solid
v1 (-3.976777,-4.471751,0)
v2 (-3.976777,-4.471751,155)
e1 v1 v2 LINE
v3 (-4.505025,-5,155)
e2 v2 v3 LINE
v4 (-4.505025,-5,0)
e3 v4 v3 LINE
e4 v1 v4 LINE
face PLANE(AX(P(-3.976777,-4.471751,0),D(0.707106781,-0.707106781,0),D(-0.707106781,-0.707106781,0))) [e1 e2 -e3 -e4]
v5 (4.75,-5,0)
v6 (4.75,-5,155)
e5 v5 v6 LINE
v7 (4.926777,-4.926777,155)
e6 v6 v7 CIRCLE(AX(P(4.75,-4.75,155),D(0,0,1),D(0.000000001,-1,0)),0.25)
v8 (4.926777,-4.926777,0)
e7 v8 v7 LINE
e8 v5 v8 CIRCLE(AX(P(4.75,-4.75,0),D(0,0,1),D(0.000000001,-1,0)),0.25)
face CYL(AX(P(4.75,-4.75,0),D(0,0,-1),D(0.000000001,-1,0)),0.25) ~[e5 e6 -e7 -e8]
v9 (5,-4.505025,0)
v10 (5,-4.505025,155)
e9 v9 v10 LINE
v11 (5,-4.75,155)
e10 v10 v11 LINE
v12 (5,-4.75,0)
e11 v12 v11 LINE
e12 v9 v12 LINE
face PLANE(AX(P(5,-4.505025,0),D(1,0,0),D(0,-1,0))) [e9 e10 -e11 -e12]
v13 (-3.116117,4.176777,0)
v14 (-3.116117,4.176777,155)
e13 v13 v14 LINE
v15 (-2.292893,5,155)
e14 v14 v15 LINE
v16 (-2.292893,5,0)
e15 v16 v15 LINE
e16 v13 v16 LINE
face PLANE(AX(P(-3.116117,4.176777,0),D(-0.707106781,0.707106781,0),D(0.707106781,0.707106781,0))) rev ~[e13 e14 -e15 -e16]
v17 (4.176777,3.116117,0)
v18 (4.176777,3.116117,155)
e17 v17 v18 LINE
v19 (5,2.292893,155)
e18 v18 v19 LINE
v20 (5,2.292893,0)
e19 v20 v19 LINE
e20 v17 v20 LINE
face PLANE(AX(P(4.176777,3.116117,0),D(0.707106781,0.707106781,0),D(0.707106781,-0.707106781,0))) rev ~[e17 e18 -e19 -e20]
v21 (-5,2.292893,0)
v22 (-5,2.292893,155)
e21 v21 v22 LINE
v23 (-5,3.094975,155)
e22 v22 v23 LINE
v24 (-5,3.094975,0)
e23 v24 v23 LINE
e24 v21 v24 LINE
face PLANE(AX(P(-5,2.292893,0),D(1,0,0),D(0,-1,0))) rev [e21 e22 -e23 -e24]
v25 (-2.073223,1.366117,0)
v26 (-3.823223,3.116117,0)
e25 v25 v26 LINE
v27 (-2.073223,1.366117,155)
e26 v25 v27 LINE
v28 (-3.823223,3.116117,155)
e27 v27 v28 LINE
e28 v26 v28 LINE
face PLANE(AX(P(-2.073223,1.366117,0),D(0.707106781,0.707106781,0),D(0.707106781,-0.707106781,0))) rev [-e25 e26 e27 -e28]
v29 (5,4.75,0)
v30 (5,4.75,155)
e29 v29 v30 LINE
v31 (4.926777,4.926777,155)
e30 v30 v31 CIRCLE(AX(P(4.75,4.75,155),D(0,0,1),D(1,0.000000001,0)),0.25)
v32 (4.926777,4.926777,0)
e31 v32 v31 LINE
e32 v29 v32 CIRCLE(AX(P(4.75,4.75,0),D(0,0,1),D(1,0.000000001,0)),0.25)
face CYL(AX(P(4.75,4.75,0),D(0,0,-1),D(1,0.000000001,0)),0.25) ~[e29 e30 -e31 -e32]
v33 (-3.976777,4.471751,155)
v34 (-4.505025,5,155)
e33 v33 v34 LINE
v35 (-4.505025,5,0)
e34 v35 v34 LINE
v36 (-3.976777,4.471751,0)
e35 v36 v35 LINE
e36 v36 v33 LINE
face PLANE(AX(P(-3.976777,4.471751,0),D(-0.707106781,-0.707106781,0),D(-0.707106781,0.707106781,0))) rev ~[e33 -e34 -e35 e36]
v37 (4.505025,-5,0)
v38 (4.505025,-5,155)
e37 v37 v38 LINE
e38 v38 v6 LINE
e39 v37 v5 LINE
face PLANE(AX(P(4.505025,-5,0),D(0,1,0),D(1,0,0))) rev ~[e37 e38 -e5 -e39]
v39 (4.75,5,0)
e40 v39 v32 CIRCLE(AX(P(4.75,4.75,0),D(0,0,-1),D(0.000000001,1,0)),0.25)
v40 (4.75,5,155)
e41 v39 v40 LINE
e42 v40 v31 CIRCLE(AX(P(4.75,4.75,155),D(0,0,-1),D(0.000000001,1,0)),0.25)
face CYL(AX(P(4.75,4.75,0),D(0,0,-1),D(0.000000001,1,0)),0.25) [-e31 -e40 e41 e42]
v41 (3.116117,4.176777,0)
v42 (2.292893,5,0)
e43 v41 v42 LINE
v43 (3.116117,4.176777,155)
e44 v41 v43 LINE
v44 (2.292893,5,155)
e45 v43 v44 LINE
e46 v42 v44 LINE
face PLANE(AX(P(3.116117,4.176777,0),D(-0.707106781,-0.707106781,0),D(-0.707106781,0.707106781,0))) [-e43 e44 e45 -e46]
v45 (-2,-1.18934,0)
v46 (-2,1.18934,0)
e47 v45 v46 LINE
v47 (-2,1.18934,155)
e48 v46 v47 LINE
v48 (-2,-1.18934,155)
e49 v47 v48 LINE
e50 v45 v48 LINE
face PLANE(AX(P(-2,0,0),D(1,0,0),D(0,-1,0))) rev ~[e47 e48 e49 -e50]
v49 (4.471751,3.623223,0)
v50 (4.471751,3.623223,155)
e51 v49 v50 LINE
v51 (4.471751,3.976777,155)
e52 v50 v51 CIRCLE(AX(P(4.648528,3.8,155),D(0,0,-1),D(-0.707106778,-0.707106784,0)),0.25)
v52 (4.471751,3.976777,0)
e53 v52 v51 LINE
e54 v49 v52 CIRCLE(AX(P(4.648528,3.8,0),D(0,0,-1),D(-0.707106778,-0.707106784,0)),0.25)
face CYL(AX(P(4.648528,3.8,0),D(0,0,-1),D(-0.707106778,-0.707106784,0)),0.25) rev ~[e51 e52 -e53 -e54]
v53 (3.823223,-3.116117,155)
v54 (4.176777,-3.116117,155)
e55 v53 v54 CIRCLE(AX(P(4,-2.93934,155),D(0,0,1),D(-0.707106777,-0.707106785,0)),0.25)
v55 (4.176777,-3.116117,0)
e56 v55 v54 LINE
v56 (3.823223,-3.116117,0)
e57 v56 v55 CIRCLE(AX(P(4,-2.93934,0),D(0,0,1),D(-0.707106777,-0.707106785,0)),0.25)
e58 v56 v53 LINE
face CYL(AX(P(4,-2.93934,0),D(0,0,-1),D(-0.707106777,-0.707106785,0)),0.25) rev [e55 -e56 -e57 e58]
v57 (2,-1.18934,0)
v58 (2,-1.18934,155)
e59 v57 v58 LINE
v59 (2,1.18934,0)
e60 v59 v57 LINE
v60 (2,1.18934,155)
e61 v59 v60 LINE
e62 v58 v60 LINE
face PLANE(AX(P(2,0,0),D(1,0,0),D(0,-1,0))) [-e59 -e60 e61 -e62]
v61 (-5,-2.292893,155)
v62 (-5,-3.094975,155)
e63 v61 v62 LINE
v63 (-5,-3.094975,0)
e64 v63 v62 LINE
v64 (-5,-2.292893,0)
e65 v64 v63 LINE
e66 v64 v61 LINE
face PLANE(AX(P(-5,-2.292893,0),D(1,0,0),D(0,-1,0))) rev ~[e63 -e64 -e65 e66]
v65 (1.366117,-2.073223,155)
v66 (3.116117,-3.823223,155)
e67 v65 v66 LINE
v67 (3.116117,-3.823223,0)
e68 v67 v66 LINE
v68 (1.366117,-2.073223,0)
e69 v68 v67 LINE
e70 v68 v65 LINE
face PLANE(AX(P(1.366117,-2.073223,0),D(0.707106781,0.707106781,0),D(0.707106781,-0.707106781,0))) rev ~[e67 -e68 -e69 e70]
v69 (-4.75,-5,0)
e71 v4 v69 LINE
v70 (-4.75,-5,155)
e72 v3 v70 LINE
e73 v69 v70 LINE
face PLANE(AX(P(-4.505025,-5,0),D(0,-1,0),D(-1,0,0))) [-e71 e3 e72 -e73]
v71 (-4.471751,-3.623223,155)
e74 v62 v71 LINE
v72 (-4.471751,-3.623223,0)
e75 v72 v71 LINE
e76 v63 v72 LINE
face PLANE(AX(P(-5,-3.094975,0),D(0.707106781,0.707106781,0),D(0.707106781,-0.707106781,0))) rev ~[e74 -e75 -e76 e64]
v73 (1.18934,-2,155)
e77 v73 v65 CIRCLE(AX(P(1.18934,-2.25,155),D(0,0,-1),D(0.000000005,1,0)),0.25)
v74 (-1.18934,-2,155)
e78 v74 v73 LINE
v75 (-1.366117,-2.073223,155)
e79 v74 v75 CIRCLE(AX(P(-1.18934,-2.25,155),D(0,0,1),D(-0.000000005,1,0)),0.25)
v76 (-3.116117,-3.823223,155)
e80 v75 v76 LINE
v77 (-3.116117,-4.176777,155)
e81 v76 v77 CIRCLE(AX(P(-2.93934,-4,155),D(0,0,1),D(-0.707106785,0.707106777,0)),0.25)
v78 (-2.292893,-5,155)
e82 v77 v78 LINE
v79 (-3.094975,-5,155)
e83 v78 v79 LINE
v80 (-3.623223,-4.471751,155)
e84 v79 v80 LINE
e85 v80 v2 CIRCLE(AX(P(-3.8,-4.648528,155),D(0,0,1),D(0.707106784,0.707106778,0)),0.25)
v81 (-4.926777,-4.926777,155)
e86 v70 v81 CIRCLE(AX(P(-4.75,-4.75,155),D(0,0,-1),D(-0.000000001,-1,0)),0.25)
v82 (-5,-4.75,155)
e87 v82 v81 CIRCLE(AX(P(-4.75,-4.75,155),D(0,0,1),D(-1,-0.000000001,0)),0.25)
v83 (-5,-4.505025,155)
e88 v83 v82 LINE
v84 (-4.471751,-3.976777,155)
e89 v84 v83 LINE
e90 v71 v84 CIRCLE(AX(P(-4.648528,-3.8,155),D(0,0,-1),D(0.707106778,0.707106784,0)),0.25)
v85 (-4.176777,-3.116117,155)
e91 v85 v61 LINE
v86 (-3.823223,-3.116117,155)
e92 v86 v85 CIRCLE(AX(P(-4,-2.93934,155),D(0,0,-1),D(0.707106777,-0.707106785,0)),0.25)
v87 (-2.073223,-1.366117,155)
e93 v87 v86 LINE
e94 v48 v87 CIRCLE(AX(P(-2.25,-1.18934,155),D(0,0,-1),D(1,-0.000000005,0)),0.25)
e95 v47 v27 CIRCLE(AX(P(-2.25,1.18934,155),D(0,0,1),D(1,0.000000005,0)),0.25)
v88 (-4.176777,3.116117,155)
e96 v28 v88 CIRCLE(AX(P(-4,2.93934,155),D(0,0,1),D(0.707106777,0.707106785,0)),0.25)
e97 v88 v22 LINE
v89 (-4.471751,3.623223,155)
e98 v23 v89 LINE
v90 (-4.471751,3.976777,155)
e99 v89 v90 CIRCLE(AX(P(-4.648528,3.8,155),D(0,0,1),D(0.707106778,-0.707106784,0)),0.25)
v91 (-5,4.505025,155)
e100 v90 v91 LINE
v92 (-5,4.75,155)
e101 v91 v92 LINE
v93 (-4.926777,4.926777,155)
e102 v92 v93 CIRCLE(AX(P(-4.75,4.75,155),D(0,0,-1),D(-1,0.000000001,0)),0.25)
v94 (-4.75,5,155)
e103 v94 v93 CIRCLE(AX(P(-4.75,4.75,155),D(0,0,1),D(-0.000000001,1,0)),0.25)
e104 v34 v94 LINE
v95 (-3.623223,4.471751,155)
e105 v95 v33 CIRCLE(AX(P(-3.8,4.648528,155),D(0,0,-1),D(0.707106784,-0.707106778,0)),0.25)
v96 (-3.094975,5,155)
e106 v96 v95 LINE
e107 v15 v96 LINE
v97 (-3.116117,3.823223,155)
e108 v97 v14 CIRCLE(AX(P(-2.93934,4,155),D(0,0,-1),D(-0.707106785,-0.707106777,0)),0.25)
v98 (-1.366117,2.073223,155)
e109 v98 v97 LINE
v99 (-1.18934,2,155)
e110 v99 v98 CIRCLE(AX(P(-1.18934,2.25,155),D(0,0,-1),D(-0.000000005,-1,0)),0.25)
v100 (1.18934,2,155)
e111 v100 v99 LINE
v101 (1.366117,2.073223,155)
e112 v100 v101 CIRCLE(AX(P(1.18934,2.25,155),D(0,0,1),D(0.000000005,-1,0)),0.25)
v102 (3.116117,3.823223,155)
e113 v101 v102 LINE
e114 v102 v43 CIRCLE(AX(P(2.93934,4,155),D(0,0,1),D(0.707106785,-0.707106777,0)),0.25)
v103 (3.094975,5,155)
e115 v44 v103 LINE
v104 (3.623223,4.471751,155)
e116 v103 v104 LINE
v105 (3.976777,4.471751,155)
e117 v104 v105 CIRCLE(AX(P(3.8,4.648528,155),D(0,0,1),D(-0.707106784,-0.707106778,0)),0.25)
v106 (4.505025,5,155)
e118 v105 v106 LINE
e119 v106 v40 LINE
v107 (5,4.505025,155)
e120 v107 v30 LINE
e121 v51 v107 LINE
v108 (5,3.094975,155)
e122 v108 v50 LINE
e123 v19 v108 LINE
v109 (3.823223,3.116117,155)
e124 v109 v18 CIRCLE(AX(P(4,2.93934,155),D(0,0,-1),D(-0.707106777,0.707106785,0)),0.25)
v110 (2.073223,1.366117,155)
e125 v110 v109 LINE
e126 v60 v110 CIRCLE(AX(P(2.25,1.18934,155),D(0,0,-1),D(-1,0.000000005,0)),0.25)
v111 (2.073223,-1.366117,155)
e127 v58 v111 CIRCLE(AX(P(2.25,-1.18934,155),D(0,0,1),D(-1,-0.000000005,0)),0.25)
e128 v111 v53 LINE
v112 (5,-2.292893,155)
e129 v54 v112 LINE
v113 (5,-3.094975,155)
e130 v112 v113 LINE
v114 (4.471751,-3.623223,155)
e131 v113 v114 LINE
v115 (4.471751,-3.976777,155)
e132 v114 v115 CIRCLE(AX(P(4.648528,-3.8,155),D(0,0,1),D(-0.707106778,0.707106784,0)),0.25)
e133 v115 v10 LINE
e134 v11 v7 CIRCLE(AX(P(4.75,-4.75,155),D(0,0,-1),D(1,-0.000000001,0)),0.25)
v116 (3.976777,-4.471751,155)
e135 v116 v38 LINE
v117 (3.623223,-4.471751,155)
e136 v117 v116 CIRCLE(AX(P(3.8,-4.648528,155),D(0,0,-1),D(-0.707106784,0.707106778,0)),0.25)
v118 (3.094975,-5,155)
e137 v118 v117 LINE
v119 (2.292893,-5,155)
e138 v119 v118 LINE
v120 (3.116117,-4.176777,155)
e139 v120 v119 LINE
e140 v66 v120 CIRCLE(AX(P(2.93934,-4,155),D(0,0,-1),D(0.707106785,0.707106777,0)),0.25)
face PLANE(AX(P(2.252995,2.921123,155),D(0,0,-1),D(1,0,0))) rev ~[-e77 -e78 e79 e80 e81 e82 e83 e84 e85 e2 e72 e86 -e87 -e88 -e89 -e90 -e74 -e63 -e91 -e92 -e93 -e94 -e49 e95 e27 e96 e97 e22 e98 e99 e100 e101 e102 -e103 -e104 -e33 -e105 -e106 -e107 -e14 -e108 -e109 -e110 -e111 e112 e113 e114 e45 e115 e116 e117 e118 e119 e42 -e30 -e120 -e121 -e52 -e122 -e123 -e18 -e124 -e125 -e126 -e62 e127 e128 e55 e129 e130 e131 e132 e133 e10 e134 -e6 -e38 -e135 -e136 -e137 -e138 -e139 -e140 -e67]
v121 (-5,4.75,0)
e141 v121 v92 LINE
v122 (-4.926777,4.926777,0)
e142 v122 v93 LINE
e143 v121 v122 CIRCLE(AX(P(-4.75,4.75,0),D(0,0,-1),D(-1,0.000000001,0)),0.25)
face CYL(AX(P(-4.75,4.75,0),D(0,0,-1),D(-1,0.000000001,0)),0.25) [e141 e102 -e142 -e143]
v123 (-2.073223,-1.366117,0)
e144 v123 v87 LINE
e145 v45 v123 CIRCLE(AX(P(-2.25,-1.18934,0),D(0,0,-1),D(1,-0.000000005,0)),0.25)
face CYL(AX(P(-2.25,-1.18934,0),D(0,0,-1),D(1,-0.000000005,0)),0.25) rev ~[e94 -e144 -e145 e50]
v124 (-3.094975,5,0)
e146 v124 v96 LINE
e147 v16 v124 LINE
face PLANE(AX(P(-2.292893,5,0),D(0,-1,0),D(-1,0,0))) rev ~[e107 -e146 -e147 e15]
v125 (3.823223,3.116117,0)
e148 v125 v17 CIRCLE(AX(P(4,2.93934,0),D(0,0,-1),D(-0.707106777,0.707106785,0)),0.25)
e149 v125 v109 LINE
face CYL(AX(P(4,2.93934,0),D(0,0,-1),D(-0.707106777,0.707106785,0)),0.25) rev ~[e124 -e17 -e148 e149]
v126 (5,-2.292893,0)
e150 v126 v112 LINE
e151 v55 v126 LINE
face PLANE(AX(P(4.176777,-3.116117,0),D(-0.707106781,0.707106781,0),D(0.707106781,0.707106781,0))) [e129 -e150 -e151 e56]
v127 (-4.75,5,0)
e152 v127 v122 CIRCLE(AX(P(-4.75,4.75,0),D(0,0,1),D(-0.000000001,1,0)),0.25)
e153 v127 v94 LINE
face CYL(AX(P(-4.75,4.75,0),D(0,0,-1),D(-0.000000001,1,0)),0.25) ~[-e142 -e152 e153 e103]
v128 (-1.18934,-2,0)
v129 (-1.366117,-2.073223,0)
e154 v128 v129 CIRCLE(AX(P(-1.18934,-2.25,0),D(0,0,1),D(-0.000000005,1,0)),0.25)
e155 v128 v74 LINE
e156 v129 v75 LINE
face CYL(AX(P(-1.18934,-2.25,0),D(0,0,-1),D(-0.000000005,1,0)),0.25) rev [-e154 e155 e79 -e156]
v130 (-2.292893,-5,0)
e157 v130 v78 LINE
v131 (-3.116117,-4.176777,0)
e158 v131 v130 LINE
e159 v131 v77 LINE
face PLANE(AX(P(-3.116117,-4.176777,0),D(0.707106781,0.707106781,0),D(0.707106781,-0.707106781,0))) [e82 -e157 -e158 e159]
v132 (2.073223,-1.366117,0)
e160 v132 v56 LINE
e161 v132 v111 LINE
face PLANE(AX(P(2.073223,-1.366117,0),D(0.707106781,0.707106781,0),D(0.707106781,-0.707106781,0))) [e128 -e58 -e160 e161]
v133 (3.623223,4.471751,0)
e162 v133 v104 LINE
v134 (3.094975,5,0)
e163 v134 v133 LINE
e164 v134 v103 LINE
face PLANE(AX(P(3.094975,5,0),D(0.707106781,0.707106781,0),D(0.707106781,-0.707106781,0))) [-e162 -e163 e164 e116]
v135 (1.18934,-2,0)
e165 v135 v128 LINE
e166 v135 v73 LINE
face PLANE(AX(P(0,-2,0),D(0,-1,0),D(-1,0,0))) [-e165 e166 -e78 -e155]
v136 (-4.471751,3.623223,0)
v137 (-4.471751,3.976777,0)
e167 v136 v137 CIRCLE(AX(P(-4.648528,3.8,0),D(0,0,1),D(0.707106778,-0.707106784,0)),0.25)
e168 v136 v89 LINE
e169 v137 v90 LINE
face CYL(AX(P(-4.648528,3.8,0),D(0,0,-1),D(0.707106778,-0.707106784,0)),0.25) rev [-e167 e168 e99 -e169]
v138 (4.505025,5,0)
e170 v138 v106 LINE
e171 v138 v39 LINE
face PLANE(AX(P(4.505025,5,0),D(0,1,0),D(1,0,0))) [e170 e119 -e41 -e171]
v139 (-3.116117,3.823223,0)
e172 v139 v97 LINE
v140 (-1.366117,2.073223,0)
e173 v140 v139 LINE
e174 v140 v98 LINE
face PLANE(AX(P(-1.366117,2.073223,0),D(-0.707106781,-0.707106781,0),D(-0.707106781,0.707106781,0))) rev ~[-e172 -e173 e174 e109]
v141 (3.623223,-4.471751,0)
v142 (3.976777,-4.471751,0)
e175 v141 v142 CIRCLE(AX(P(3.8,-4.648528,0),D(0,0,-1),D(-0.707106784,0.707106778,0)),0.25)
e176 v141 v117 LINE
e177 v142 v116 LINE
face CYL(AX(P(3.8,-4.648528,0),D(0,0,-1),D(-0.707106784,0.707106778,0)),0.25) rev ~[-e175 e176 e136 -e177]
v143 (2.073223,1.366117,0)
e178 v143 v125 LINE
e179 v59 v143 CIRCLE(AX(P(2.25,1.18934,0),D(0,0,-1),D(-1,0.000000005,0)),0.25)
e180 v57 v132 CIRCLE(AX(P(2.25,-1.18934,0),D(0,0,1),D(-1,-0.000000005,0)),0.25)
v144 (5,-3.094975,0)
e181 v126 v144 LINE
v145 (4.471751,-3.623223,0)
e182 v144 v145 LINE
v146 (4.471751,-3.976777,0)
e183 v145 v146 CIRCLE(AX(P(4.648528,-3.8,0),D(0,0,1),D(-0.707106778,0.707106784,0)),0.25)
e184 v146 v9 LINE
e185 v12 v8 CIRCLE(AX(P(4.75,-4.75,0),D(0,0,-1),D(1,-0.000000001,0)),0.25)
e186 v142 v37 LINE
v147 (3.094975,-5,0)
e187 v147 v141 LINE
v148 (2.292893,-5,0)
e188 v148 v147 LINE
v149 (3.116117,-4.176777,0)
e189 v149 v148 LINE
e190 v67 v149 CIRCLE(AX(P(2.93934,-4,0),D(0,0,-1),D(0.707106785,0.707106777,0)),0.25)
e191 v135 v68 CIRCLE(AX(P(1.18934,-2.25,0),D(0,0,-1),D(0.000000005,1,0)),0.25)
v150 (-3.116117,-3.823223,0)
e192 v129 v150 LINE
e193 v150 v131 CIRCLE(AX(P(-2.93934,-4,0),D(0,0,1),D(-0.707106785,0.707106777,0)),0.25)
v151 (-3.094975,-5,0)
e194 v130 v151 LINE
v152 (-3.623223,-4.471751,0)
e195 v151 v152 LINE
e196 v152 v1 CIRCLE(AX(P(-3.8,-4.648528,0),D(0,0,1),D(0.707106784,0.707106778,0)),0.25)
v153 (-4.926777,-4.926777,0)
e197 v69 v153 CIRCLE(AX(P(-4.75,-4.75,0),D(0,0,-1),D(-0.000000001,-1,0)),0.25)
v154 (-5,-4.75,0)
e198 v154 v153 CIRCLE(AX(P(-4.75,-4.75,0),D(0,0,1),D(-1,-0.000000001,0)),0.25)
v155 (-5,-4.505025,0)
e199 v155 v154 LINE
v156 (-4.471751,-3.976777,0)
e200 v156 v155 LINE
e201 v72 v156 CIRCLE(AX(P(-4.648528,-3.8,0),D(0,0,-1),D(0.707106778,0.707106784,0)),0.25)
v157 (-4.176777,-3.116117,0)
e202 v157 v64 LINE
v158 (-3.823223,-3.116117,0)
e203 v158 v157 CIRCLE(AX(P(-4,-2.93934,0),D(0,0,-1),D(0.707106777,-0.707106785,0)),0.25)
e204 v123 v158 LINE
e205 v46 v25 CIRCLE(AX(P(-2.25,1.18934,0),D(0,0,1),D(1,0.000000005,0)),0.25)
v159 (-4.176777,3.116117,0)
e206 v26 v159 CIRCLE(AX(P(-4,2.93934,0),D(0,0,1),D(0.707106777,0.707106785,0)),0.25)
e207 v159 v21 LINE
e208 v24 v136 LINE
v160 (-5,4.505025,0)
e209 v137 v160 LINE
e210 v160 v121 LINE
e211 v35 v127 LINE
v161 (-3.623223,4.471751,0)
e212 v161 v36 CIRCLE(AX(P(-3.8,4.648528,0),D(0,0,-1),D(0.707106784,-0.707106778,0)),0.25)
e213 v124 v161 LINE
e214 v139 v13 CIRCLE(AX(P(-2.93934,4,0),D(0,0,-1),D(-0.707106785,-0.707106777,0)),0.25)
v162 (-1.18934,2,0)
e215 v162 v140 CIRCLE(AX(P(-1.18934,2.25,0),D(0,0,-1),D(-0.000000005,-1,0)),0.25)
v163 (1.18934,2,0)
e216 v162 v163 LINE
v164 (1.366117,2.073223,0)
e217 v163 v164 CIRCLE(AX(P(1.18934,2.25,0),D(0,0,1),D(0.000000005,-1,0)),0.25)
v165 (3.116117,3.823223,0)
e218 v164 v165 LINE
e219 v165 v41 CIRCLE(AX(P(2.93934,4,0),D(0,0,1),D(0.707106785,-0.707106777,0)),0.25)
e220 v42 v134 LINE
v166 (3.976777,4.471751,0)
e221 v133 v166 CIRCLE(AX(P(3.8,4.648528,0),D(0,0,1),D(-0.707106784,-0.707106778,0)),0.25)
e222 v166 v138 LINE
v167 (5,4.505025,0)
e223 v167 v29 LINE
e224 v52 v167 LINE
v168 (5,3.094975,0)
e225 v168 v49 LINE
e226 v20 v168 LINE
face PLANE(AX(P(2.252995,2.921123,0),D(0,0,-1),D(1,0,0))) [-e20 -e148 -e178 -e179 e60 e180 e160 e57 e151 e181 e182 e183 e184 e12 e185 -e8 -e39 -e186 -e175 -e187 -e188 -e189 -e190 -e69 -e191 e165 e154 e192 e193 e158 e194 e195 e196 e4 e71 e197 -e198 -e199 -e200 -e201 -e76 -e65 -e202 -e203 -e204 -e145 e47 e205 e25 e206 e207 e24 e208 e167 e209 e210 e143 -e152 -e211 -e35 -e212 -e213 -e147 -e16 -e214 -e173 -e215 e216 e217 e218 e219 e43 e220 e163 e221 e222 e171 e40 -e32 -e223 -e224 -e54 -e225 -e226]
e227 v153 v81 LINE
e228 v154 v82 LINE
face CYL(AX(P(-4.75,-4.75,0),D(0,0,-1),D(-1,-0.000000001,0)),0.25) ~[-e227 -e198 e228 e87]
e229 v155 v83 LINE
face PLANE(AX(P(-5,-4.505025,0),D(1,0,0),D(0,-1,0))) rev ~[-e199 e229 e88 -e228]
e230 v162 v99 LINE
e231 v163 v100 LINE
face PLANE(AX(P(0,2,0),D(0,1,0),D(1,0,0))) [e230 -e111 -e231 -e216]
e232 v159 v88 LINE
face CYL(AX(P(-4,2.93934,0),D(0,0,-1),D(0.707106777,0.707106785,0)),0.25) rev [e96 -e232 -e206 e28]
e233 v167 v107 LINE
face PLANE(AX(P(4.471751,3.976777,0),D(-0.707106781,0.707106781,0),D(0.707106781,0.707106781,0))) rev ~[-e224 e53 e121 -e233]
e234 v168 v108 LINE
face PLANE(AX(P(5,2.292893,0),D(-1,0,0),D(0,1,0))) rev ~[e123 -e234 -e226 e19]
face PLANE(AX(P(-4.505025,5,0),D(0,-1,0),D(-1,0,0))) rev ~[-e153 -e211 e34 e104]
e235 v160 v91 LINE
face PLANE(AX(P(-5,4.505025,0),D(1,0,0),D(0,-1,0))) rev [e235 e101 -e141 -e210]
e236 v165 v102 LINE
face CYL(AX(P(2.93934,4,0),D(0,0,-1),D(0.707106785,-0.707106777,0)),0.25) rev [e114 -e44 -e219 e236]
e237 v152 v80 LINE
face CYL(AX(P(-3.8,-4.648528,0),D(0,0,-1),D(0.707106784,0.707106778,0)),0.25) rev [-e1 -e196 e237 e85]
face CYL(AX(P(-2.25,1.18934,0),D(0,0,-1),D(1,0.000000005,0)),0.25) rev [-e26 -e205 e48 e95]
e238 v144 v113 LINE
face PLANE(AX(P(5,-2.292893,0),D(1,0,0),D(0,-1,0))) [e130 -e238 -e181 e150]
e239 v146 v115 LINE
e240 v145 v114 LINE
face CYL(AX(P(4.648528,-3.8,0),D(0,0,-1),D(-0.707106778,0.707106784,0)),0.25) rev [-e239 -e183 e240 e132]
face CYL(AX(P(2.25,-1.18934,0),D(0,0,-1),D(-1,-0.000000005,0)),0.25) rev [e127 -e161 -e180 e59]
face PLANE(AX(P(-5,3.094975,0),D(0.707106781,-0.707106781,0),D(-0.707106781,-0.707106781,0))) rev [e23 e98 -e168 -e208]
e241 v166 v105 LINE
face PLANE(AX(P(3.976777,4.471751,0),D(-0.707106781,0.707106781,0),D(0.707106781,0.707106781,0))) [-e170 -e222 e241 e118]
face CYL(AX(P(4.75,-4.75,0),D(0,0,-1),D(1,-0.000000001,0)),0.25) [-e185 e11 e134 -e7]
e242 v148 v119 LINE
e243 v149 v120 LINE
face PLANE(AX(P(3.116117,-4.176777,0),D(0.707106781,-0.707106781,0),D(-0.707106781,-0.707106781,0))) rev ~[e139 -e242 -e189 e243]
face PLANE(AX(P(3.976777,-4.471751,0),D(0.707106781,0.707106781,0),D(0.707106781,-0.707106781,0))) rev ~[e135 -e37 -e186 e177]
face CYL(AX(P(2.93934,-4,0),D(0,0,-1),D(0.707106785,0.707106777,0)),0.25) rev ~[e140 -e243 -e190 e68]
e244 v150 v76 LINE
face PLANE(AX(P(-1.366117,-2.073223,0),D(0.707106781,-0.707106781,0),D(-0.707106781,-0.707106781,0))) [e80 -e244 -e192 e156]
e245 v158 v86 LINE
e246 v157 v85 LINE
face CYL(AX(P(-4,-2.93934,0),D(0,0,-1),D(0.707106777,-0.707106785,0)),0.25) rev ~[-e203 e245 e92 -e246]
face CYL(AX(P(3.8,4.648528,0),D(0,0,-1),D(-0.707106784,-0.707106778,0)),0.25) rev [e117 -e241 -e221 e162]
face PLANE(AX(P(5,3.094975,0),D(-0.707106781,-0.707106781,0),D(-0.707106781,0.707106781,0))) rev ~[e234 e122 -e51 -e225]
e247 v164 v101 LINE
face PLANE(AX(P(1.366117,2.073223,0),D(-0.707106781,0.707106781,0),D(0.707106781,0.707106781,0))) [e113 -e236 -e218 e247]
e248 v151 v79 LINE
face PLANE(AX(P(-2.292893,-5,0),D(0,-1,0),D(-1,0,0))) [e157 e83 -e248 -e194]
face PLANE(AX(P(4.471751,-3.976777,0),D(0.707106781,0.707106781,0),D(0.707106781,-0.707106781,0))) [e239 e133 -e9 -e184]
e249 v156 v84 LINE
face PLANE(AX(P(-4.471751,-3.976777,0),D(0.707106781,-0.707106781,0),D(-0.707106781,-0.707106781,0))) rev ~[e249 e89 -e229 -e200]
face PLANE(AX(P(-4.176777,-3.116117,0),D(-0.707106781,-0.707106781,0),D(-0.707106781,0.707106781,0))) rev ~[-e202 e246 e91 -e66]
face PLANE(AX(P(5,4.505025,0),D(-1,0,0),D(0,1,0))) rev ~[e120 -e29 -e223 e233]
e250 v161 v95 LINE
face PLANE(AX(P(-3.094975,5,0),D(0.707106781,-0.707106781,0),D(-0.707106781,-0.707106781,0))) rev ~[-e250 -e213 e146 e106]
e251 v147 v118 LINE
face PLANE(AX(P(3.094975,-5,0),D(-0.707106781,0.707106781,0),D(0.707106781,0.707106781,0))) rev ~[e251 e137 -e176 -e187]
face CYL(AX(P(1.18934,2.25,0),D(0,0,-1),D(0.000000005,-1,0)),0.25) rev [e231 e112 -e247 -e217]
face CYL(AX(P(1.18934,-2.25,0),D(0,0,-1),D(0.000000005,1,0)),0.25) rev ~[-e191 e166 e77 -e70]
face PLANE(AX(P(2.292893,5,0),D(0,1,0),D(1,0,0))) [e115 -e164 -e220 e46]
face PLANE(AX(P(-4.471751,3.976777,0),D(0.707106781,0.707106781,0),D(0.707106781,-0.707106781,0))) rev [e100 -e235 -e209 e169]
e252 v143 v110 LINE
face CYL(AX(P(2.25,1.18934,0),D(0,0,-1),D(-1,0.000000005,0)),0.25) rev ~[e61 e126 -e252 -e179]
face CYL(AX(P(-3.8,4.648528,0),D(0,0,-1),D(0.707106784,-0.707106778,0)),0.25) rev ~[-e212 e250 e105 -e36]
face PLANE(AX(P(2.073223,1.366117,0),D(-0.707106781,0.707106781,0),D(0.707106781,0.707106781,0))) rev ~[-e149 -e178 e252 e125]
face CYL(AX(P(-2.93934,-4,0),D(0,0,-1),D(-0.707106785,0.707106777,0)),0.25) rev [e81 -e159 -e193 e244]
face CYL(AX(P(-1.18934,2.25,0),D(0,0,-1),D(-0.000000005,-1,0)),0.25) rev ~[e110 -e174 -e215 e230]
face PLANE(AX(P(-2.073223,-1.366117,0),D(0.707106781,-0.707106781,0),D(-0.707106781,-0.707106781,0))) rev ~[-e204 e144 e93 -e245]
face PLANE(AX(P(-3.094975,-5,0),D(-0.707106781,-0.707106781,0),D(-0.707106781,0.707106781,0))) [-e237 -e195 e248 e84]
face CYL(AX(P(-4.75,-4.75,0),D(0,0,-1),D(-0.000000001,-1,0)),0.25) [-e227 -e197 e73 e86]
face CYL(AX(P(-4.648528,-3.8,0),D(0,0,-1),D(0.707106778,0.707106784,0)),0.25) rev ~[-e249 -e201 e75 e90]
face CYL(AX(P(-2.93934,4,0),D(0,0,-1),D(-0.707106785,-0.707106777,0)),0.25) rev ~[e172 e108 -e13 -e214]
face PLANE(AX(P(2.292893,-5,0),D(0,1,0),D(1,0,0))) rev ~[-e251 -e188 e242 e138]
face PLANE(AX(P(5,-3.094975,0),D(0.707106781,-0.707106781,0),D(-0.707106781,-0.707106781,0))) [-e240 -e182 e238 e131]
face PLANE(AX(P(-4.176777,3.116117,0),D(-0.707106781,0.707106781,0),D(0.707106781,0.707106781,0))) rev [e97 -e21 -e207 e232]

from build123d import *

# Parameters (mm, degrees)
BOSS_EXTRUDE1_DEPTH      = 155
CIRPATTERN4_COUNT        = 4
CIRPATTERN4_COPY_1_DEPTH = 155
CIRPATTERN4_COPY_2_DEPTH = 155
CIRPATTERN4_COPY_3_DEPTH = 155


with BuildPart() as part:
    # Sketch2 → Boss-Extrude1 (new body)
    with BuildSketch(Plane.XY):
        with BuildLine():
            Line((-1.366116524, 2.073223305), (-3.116116524, 3.823223305))
            ThreePointArc((-3.116116524, 3.823223305), (-3.189339828, 4), (-3.116116524, 4.176776695))
            Line((-3.116116524, 4.176776695), (-2.292893219, 5))
            Line((-2.292893219, 5), (-3.094974747, 5))
            Line((-3.094974747, 5), (-3.623223305, 4.471751442))
            ThreePointArc((-3.623223305, 4.471751442), (-3.8, 4.398528137), (-3.976776695, 4.471751442))
            Line((-3.976776695, 4.471751442), (-4.505025253, 5))
            Line((-4.505025253, 5), (-4.75, 5))
            ThreePointArc((-4.75, 5), (-4.845670858, 4.980969883), (-4.926776695, 4.926776695))
            Line((-4.926776695, 4.926776695), (0, 0))
            Line((0, 0), (0, 2))
            Line((0, 2), (-1.189339828, 2))
            ThreePointArc((-1.189339828, 2), (-1.285010686, 2.019030117), (-1.366116524, 2.073223305))
        make_face()
    boss_extrude1 = extrude(amount=BOSS_EXTRUDE1_DEPTH)

    # Mirror1: Boss-Extrude1 across plane
    add(boss_extrude1.mirror(Plane(origin=(0, 0, 155), x_dir=(0, 0, 1), z_dir=(0.707106781, 0.707106781, 0))))

    # CirPattern4: Boss-Extrude1 ×4 about axis
    cirpattern4_axis = Axis((0, 0, 0), (0, 0, 1))
    for i in range(1, CIRPATTERN4_COUNT):
        add(boss_extrude1.rotate(cirpattern4_axis, i * 360 / CIRPATTERN4_COUNT))

    # CirPattern4 copy 1 sketch → CirPattern4 copy 1 (add)
    with BuildSketch(Plane.XY):
        with BuildLine():
            Line((-1.366116524, -2.073223305), (-3.116116524, -3.823223305))
            ThreePointArc((-3.116116524, -3.823223305), (-3.189339828, -4), (-3.116116524, -4.176776695))
            Line((-3.116116524, -4.176776695), (-2.292893219, -5))
            Line((-2.292893219, -5), (-3.094974747, -5))
            Line((-3.094974747, -5), (-3.623223305, -4.471751442))
            ThreePointArc((-3.623223305, -4.471751442), (-3.8, -4.398528137), (-3.976776695, -4.471751442))
            Line((-3.976776695, -4.471751442), (-4.505025253, -5))
            Line((-4.505025253, -5), (-4.75, -5))
            ThreePointArc((-4.75, -5), (-4.845670858, -4.980969883), (-4.926776695, -4.926776695))
            Line((-4.926776695, -4.926776695), (0, 0))
            Line((0, 0), (0, -2))
            Line((0, -2), (-1.189339828, -2))
            ThreePointArc((-1.189339828, -2), (-1.285010686, -2.019030117), (-1.366116524, -2.073223305))
        make_face()
    extrude(amount=CIRPATTERN4_COPY_1_DEPTH)

    # CirPattern4 copy 2 sketch → CirPattern4 copy 2 (add)
    with BuildSketch(Plane(origin=(0, 0, 0), x_dir=(0, 1, 0), z_dir=(0, 0, 1))):
        with BuildLine():
            Line((-1.366116524, -2.073223305), (-3.116116524, -3.823223305))
            ThreePointArc((-3.116116524, -3.823223305), (-3.189339828, -4), (-3.116116524, -4.176776695))
            Line((-3.116116524, -4.176776695), (-2.292893219, -5))
            Line((-2.292893219, -5), (-3.094974747, -5))
            Line((-3.094974747, -5), (-3.623223305, -4.471751442))
            ThreePointArc((-3.623223305, -4.471751442), (-3.8, -4.398528137), (-3.976776695, -4.471751442))
            Line((-3.976776695, -4.471751442), (-4.505025253, -5))
            Line((-4.505025253, -5), (-4.75, -5))
            ThreePointArc((-4.75, -5), (-4.845670858, -4.980969883), (-4.926776695, -4.926776695))
            Line((-4.926776695, -4.926776695), (0, 0))
            Line((0, 0), (0, -2))
            Line((0, -2), (-1.189339828, -2))
            ThreePointArc((-1.189339828, -2), (-1.285010686, -2.019030117), (-1.366116524, -2.073223305))
        make_face()
    extrude(amount=CIRPATTERN4_COPY_2_DEPTH)

    # CirPattern4 copy 3 sketch → CirPattern4 copy 3 (add)
    with BuildSketch(Plane(origin=(0, 0, 0), x_dir=(-1, 0, 0), z_dir=(0, 0, 1))):
        with BuildLine():
            Line((-1.366116524, -2.073223305), (-3.116116524, -3.823223305))
            ThreePointArc((-3.116116524, -3.823223305), (-3.189339828, -4), (-3.116116524, -4.176776695))
            Line((-3.116116524, -4.176776695), (-2.292893219, -5))
            Line((-2.292893219, -5), (-3.094974747, -5))
            Line((-3.094974747, -5), (-3.623223305, -4.471751442))
            ThreePointArc((-3.623223305, -4.471751442), (-3.8, -4.398528137), (-3.976776695, -4.471751442))
            Line((-3.976776695, -4.471751442), (-4.505025253, -5))
            Line((-4.505025253, -5), (-4.75, -5))
            ThreePointArc((-4.75, -5), (-4.845670858, -4.980969883), (-4.926776695, -4.926776695))
            Line((-4.926776695, -4.926776695), (0, 0))
            Line((0, 0), (0, -2))
            Line((0, -2), (-1.189339828, -2))
            ThreePointArc((-1.189339828, -2), (-1.285010686, -2.019030117), (-1.366116524, -2.073223305))
        make_face()
    extrude(amount=CIRPATTERN4_COPY_3_DEPTH)


solid = part.part
